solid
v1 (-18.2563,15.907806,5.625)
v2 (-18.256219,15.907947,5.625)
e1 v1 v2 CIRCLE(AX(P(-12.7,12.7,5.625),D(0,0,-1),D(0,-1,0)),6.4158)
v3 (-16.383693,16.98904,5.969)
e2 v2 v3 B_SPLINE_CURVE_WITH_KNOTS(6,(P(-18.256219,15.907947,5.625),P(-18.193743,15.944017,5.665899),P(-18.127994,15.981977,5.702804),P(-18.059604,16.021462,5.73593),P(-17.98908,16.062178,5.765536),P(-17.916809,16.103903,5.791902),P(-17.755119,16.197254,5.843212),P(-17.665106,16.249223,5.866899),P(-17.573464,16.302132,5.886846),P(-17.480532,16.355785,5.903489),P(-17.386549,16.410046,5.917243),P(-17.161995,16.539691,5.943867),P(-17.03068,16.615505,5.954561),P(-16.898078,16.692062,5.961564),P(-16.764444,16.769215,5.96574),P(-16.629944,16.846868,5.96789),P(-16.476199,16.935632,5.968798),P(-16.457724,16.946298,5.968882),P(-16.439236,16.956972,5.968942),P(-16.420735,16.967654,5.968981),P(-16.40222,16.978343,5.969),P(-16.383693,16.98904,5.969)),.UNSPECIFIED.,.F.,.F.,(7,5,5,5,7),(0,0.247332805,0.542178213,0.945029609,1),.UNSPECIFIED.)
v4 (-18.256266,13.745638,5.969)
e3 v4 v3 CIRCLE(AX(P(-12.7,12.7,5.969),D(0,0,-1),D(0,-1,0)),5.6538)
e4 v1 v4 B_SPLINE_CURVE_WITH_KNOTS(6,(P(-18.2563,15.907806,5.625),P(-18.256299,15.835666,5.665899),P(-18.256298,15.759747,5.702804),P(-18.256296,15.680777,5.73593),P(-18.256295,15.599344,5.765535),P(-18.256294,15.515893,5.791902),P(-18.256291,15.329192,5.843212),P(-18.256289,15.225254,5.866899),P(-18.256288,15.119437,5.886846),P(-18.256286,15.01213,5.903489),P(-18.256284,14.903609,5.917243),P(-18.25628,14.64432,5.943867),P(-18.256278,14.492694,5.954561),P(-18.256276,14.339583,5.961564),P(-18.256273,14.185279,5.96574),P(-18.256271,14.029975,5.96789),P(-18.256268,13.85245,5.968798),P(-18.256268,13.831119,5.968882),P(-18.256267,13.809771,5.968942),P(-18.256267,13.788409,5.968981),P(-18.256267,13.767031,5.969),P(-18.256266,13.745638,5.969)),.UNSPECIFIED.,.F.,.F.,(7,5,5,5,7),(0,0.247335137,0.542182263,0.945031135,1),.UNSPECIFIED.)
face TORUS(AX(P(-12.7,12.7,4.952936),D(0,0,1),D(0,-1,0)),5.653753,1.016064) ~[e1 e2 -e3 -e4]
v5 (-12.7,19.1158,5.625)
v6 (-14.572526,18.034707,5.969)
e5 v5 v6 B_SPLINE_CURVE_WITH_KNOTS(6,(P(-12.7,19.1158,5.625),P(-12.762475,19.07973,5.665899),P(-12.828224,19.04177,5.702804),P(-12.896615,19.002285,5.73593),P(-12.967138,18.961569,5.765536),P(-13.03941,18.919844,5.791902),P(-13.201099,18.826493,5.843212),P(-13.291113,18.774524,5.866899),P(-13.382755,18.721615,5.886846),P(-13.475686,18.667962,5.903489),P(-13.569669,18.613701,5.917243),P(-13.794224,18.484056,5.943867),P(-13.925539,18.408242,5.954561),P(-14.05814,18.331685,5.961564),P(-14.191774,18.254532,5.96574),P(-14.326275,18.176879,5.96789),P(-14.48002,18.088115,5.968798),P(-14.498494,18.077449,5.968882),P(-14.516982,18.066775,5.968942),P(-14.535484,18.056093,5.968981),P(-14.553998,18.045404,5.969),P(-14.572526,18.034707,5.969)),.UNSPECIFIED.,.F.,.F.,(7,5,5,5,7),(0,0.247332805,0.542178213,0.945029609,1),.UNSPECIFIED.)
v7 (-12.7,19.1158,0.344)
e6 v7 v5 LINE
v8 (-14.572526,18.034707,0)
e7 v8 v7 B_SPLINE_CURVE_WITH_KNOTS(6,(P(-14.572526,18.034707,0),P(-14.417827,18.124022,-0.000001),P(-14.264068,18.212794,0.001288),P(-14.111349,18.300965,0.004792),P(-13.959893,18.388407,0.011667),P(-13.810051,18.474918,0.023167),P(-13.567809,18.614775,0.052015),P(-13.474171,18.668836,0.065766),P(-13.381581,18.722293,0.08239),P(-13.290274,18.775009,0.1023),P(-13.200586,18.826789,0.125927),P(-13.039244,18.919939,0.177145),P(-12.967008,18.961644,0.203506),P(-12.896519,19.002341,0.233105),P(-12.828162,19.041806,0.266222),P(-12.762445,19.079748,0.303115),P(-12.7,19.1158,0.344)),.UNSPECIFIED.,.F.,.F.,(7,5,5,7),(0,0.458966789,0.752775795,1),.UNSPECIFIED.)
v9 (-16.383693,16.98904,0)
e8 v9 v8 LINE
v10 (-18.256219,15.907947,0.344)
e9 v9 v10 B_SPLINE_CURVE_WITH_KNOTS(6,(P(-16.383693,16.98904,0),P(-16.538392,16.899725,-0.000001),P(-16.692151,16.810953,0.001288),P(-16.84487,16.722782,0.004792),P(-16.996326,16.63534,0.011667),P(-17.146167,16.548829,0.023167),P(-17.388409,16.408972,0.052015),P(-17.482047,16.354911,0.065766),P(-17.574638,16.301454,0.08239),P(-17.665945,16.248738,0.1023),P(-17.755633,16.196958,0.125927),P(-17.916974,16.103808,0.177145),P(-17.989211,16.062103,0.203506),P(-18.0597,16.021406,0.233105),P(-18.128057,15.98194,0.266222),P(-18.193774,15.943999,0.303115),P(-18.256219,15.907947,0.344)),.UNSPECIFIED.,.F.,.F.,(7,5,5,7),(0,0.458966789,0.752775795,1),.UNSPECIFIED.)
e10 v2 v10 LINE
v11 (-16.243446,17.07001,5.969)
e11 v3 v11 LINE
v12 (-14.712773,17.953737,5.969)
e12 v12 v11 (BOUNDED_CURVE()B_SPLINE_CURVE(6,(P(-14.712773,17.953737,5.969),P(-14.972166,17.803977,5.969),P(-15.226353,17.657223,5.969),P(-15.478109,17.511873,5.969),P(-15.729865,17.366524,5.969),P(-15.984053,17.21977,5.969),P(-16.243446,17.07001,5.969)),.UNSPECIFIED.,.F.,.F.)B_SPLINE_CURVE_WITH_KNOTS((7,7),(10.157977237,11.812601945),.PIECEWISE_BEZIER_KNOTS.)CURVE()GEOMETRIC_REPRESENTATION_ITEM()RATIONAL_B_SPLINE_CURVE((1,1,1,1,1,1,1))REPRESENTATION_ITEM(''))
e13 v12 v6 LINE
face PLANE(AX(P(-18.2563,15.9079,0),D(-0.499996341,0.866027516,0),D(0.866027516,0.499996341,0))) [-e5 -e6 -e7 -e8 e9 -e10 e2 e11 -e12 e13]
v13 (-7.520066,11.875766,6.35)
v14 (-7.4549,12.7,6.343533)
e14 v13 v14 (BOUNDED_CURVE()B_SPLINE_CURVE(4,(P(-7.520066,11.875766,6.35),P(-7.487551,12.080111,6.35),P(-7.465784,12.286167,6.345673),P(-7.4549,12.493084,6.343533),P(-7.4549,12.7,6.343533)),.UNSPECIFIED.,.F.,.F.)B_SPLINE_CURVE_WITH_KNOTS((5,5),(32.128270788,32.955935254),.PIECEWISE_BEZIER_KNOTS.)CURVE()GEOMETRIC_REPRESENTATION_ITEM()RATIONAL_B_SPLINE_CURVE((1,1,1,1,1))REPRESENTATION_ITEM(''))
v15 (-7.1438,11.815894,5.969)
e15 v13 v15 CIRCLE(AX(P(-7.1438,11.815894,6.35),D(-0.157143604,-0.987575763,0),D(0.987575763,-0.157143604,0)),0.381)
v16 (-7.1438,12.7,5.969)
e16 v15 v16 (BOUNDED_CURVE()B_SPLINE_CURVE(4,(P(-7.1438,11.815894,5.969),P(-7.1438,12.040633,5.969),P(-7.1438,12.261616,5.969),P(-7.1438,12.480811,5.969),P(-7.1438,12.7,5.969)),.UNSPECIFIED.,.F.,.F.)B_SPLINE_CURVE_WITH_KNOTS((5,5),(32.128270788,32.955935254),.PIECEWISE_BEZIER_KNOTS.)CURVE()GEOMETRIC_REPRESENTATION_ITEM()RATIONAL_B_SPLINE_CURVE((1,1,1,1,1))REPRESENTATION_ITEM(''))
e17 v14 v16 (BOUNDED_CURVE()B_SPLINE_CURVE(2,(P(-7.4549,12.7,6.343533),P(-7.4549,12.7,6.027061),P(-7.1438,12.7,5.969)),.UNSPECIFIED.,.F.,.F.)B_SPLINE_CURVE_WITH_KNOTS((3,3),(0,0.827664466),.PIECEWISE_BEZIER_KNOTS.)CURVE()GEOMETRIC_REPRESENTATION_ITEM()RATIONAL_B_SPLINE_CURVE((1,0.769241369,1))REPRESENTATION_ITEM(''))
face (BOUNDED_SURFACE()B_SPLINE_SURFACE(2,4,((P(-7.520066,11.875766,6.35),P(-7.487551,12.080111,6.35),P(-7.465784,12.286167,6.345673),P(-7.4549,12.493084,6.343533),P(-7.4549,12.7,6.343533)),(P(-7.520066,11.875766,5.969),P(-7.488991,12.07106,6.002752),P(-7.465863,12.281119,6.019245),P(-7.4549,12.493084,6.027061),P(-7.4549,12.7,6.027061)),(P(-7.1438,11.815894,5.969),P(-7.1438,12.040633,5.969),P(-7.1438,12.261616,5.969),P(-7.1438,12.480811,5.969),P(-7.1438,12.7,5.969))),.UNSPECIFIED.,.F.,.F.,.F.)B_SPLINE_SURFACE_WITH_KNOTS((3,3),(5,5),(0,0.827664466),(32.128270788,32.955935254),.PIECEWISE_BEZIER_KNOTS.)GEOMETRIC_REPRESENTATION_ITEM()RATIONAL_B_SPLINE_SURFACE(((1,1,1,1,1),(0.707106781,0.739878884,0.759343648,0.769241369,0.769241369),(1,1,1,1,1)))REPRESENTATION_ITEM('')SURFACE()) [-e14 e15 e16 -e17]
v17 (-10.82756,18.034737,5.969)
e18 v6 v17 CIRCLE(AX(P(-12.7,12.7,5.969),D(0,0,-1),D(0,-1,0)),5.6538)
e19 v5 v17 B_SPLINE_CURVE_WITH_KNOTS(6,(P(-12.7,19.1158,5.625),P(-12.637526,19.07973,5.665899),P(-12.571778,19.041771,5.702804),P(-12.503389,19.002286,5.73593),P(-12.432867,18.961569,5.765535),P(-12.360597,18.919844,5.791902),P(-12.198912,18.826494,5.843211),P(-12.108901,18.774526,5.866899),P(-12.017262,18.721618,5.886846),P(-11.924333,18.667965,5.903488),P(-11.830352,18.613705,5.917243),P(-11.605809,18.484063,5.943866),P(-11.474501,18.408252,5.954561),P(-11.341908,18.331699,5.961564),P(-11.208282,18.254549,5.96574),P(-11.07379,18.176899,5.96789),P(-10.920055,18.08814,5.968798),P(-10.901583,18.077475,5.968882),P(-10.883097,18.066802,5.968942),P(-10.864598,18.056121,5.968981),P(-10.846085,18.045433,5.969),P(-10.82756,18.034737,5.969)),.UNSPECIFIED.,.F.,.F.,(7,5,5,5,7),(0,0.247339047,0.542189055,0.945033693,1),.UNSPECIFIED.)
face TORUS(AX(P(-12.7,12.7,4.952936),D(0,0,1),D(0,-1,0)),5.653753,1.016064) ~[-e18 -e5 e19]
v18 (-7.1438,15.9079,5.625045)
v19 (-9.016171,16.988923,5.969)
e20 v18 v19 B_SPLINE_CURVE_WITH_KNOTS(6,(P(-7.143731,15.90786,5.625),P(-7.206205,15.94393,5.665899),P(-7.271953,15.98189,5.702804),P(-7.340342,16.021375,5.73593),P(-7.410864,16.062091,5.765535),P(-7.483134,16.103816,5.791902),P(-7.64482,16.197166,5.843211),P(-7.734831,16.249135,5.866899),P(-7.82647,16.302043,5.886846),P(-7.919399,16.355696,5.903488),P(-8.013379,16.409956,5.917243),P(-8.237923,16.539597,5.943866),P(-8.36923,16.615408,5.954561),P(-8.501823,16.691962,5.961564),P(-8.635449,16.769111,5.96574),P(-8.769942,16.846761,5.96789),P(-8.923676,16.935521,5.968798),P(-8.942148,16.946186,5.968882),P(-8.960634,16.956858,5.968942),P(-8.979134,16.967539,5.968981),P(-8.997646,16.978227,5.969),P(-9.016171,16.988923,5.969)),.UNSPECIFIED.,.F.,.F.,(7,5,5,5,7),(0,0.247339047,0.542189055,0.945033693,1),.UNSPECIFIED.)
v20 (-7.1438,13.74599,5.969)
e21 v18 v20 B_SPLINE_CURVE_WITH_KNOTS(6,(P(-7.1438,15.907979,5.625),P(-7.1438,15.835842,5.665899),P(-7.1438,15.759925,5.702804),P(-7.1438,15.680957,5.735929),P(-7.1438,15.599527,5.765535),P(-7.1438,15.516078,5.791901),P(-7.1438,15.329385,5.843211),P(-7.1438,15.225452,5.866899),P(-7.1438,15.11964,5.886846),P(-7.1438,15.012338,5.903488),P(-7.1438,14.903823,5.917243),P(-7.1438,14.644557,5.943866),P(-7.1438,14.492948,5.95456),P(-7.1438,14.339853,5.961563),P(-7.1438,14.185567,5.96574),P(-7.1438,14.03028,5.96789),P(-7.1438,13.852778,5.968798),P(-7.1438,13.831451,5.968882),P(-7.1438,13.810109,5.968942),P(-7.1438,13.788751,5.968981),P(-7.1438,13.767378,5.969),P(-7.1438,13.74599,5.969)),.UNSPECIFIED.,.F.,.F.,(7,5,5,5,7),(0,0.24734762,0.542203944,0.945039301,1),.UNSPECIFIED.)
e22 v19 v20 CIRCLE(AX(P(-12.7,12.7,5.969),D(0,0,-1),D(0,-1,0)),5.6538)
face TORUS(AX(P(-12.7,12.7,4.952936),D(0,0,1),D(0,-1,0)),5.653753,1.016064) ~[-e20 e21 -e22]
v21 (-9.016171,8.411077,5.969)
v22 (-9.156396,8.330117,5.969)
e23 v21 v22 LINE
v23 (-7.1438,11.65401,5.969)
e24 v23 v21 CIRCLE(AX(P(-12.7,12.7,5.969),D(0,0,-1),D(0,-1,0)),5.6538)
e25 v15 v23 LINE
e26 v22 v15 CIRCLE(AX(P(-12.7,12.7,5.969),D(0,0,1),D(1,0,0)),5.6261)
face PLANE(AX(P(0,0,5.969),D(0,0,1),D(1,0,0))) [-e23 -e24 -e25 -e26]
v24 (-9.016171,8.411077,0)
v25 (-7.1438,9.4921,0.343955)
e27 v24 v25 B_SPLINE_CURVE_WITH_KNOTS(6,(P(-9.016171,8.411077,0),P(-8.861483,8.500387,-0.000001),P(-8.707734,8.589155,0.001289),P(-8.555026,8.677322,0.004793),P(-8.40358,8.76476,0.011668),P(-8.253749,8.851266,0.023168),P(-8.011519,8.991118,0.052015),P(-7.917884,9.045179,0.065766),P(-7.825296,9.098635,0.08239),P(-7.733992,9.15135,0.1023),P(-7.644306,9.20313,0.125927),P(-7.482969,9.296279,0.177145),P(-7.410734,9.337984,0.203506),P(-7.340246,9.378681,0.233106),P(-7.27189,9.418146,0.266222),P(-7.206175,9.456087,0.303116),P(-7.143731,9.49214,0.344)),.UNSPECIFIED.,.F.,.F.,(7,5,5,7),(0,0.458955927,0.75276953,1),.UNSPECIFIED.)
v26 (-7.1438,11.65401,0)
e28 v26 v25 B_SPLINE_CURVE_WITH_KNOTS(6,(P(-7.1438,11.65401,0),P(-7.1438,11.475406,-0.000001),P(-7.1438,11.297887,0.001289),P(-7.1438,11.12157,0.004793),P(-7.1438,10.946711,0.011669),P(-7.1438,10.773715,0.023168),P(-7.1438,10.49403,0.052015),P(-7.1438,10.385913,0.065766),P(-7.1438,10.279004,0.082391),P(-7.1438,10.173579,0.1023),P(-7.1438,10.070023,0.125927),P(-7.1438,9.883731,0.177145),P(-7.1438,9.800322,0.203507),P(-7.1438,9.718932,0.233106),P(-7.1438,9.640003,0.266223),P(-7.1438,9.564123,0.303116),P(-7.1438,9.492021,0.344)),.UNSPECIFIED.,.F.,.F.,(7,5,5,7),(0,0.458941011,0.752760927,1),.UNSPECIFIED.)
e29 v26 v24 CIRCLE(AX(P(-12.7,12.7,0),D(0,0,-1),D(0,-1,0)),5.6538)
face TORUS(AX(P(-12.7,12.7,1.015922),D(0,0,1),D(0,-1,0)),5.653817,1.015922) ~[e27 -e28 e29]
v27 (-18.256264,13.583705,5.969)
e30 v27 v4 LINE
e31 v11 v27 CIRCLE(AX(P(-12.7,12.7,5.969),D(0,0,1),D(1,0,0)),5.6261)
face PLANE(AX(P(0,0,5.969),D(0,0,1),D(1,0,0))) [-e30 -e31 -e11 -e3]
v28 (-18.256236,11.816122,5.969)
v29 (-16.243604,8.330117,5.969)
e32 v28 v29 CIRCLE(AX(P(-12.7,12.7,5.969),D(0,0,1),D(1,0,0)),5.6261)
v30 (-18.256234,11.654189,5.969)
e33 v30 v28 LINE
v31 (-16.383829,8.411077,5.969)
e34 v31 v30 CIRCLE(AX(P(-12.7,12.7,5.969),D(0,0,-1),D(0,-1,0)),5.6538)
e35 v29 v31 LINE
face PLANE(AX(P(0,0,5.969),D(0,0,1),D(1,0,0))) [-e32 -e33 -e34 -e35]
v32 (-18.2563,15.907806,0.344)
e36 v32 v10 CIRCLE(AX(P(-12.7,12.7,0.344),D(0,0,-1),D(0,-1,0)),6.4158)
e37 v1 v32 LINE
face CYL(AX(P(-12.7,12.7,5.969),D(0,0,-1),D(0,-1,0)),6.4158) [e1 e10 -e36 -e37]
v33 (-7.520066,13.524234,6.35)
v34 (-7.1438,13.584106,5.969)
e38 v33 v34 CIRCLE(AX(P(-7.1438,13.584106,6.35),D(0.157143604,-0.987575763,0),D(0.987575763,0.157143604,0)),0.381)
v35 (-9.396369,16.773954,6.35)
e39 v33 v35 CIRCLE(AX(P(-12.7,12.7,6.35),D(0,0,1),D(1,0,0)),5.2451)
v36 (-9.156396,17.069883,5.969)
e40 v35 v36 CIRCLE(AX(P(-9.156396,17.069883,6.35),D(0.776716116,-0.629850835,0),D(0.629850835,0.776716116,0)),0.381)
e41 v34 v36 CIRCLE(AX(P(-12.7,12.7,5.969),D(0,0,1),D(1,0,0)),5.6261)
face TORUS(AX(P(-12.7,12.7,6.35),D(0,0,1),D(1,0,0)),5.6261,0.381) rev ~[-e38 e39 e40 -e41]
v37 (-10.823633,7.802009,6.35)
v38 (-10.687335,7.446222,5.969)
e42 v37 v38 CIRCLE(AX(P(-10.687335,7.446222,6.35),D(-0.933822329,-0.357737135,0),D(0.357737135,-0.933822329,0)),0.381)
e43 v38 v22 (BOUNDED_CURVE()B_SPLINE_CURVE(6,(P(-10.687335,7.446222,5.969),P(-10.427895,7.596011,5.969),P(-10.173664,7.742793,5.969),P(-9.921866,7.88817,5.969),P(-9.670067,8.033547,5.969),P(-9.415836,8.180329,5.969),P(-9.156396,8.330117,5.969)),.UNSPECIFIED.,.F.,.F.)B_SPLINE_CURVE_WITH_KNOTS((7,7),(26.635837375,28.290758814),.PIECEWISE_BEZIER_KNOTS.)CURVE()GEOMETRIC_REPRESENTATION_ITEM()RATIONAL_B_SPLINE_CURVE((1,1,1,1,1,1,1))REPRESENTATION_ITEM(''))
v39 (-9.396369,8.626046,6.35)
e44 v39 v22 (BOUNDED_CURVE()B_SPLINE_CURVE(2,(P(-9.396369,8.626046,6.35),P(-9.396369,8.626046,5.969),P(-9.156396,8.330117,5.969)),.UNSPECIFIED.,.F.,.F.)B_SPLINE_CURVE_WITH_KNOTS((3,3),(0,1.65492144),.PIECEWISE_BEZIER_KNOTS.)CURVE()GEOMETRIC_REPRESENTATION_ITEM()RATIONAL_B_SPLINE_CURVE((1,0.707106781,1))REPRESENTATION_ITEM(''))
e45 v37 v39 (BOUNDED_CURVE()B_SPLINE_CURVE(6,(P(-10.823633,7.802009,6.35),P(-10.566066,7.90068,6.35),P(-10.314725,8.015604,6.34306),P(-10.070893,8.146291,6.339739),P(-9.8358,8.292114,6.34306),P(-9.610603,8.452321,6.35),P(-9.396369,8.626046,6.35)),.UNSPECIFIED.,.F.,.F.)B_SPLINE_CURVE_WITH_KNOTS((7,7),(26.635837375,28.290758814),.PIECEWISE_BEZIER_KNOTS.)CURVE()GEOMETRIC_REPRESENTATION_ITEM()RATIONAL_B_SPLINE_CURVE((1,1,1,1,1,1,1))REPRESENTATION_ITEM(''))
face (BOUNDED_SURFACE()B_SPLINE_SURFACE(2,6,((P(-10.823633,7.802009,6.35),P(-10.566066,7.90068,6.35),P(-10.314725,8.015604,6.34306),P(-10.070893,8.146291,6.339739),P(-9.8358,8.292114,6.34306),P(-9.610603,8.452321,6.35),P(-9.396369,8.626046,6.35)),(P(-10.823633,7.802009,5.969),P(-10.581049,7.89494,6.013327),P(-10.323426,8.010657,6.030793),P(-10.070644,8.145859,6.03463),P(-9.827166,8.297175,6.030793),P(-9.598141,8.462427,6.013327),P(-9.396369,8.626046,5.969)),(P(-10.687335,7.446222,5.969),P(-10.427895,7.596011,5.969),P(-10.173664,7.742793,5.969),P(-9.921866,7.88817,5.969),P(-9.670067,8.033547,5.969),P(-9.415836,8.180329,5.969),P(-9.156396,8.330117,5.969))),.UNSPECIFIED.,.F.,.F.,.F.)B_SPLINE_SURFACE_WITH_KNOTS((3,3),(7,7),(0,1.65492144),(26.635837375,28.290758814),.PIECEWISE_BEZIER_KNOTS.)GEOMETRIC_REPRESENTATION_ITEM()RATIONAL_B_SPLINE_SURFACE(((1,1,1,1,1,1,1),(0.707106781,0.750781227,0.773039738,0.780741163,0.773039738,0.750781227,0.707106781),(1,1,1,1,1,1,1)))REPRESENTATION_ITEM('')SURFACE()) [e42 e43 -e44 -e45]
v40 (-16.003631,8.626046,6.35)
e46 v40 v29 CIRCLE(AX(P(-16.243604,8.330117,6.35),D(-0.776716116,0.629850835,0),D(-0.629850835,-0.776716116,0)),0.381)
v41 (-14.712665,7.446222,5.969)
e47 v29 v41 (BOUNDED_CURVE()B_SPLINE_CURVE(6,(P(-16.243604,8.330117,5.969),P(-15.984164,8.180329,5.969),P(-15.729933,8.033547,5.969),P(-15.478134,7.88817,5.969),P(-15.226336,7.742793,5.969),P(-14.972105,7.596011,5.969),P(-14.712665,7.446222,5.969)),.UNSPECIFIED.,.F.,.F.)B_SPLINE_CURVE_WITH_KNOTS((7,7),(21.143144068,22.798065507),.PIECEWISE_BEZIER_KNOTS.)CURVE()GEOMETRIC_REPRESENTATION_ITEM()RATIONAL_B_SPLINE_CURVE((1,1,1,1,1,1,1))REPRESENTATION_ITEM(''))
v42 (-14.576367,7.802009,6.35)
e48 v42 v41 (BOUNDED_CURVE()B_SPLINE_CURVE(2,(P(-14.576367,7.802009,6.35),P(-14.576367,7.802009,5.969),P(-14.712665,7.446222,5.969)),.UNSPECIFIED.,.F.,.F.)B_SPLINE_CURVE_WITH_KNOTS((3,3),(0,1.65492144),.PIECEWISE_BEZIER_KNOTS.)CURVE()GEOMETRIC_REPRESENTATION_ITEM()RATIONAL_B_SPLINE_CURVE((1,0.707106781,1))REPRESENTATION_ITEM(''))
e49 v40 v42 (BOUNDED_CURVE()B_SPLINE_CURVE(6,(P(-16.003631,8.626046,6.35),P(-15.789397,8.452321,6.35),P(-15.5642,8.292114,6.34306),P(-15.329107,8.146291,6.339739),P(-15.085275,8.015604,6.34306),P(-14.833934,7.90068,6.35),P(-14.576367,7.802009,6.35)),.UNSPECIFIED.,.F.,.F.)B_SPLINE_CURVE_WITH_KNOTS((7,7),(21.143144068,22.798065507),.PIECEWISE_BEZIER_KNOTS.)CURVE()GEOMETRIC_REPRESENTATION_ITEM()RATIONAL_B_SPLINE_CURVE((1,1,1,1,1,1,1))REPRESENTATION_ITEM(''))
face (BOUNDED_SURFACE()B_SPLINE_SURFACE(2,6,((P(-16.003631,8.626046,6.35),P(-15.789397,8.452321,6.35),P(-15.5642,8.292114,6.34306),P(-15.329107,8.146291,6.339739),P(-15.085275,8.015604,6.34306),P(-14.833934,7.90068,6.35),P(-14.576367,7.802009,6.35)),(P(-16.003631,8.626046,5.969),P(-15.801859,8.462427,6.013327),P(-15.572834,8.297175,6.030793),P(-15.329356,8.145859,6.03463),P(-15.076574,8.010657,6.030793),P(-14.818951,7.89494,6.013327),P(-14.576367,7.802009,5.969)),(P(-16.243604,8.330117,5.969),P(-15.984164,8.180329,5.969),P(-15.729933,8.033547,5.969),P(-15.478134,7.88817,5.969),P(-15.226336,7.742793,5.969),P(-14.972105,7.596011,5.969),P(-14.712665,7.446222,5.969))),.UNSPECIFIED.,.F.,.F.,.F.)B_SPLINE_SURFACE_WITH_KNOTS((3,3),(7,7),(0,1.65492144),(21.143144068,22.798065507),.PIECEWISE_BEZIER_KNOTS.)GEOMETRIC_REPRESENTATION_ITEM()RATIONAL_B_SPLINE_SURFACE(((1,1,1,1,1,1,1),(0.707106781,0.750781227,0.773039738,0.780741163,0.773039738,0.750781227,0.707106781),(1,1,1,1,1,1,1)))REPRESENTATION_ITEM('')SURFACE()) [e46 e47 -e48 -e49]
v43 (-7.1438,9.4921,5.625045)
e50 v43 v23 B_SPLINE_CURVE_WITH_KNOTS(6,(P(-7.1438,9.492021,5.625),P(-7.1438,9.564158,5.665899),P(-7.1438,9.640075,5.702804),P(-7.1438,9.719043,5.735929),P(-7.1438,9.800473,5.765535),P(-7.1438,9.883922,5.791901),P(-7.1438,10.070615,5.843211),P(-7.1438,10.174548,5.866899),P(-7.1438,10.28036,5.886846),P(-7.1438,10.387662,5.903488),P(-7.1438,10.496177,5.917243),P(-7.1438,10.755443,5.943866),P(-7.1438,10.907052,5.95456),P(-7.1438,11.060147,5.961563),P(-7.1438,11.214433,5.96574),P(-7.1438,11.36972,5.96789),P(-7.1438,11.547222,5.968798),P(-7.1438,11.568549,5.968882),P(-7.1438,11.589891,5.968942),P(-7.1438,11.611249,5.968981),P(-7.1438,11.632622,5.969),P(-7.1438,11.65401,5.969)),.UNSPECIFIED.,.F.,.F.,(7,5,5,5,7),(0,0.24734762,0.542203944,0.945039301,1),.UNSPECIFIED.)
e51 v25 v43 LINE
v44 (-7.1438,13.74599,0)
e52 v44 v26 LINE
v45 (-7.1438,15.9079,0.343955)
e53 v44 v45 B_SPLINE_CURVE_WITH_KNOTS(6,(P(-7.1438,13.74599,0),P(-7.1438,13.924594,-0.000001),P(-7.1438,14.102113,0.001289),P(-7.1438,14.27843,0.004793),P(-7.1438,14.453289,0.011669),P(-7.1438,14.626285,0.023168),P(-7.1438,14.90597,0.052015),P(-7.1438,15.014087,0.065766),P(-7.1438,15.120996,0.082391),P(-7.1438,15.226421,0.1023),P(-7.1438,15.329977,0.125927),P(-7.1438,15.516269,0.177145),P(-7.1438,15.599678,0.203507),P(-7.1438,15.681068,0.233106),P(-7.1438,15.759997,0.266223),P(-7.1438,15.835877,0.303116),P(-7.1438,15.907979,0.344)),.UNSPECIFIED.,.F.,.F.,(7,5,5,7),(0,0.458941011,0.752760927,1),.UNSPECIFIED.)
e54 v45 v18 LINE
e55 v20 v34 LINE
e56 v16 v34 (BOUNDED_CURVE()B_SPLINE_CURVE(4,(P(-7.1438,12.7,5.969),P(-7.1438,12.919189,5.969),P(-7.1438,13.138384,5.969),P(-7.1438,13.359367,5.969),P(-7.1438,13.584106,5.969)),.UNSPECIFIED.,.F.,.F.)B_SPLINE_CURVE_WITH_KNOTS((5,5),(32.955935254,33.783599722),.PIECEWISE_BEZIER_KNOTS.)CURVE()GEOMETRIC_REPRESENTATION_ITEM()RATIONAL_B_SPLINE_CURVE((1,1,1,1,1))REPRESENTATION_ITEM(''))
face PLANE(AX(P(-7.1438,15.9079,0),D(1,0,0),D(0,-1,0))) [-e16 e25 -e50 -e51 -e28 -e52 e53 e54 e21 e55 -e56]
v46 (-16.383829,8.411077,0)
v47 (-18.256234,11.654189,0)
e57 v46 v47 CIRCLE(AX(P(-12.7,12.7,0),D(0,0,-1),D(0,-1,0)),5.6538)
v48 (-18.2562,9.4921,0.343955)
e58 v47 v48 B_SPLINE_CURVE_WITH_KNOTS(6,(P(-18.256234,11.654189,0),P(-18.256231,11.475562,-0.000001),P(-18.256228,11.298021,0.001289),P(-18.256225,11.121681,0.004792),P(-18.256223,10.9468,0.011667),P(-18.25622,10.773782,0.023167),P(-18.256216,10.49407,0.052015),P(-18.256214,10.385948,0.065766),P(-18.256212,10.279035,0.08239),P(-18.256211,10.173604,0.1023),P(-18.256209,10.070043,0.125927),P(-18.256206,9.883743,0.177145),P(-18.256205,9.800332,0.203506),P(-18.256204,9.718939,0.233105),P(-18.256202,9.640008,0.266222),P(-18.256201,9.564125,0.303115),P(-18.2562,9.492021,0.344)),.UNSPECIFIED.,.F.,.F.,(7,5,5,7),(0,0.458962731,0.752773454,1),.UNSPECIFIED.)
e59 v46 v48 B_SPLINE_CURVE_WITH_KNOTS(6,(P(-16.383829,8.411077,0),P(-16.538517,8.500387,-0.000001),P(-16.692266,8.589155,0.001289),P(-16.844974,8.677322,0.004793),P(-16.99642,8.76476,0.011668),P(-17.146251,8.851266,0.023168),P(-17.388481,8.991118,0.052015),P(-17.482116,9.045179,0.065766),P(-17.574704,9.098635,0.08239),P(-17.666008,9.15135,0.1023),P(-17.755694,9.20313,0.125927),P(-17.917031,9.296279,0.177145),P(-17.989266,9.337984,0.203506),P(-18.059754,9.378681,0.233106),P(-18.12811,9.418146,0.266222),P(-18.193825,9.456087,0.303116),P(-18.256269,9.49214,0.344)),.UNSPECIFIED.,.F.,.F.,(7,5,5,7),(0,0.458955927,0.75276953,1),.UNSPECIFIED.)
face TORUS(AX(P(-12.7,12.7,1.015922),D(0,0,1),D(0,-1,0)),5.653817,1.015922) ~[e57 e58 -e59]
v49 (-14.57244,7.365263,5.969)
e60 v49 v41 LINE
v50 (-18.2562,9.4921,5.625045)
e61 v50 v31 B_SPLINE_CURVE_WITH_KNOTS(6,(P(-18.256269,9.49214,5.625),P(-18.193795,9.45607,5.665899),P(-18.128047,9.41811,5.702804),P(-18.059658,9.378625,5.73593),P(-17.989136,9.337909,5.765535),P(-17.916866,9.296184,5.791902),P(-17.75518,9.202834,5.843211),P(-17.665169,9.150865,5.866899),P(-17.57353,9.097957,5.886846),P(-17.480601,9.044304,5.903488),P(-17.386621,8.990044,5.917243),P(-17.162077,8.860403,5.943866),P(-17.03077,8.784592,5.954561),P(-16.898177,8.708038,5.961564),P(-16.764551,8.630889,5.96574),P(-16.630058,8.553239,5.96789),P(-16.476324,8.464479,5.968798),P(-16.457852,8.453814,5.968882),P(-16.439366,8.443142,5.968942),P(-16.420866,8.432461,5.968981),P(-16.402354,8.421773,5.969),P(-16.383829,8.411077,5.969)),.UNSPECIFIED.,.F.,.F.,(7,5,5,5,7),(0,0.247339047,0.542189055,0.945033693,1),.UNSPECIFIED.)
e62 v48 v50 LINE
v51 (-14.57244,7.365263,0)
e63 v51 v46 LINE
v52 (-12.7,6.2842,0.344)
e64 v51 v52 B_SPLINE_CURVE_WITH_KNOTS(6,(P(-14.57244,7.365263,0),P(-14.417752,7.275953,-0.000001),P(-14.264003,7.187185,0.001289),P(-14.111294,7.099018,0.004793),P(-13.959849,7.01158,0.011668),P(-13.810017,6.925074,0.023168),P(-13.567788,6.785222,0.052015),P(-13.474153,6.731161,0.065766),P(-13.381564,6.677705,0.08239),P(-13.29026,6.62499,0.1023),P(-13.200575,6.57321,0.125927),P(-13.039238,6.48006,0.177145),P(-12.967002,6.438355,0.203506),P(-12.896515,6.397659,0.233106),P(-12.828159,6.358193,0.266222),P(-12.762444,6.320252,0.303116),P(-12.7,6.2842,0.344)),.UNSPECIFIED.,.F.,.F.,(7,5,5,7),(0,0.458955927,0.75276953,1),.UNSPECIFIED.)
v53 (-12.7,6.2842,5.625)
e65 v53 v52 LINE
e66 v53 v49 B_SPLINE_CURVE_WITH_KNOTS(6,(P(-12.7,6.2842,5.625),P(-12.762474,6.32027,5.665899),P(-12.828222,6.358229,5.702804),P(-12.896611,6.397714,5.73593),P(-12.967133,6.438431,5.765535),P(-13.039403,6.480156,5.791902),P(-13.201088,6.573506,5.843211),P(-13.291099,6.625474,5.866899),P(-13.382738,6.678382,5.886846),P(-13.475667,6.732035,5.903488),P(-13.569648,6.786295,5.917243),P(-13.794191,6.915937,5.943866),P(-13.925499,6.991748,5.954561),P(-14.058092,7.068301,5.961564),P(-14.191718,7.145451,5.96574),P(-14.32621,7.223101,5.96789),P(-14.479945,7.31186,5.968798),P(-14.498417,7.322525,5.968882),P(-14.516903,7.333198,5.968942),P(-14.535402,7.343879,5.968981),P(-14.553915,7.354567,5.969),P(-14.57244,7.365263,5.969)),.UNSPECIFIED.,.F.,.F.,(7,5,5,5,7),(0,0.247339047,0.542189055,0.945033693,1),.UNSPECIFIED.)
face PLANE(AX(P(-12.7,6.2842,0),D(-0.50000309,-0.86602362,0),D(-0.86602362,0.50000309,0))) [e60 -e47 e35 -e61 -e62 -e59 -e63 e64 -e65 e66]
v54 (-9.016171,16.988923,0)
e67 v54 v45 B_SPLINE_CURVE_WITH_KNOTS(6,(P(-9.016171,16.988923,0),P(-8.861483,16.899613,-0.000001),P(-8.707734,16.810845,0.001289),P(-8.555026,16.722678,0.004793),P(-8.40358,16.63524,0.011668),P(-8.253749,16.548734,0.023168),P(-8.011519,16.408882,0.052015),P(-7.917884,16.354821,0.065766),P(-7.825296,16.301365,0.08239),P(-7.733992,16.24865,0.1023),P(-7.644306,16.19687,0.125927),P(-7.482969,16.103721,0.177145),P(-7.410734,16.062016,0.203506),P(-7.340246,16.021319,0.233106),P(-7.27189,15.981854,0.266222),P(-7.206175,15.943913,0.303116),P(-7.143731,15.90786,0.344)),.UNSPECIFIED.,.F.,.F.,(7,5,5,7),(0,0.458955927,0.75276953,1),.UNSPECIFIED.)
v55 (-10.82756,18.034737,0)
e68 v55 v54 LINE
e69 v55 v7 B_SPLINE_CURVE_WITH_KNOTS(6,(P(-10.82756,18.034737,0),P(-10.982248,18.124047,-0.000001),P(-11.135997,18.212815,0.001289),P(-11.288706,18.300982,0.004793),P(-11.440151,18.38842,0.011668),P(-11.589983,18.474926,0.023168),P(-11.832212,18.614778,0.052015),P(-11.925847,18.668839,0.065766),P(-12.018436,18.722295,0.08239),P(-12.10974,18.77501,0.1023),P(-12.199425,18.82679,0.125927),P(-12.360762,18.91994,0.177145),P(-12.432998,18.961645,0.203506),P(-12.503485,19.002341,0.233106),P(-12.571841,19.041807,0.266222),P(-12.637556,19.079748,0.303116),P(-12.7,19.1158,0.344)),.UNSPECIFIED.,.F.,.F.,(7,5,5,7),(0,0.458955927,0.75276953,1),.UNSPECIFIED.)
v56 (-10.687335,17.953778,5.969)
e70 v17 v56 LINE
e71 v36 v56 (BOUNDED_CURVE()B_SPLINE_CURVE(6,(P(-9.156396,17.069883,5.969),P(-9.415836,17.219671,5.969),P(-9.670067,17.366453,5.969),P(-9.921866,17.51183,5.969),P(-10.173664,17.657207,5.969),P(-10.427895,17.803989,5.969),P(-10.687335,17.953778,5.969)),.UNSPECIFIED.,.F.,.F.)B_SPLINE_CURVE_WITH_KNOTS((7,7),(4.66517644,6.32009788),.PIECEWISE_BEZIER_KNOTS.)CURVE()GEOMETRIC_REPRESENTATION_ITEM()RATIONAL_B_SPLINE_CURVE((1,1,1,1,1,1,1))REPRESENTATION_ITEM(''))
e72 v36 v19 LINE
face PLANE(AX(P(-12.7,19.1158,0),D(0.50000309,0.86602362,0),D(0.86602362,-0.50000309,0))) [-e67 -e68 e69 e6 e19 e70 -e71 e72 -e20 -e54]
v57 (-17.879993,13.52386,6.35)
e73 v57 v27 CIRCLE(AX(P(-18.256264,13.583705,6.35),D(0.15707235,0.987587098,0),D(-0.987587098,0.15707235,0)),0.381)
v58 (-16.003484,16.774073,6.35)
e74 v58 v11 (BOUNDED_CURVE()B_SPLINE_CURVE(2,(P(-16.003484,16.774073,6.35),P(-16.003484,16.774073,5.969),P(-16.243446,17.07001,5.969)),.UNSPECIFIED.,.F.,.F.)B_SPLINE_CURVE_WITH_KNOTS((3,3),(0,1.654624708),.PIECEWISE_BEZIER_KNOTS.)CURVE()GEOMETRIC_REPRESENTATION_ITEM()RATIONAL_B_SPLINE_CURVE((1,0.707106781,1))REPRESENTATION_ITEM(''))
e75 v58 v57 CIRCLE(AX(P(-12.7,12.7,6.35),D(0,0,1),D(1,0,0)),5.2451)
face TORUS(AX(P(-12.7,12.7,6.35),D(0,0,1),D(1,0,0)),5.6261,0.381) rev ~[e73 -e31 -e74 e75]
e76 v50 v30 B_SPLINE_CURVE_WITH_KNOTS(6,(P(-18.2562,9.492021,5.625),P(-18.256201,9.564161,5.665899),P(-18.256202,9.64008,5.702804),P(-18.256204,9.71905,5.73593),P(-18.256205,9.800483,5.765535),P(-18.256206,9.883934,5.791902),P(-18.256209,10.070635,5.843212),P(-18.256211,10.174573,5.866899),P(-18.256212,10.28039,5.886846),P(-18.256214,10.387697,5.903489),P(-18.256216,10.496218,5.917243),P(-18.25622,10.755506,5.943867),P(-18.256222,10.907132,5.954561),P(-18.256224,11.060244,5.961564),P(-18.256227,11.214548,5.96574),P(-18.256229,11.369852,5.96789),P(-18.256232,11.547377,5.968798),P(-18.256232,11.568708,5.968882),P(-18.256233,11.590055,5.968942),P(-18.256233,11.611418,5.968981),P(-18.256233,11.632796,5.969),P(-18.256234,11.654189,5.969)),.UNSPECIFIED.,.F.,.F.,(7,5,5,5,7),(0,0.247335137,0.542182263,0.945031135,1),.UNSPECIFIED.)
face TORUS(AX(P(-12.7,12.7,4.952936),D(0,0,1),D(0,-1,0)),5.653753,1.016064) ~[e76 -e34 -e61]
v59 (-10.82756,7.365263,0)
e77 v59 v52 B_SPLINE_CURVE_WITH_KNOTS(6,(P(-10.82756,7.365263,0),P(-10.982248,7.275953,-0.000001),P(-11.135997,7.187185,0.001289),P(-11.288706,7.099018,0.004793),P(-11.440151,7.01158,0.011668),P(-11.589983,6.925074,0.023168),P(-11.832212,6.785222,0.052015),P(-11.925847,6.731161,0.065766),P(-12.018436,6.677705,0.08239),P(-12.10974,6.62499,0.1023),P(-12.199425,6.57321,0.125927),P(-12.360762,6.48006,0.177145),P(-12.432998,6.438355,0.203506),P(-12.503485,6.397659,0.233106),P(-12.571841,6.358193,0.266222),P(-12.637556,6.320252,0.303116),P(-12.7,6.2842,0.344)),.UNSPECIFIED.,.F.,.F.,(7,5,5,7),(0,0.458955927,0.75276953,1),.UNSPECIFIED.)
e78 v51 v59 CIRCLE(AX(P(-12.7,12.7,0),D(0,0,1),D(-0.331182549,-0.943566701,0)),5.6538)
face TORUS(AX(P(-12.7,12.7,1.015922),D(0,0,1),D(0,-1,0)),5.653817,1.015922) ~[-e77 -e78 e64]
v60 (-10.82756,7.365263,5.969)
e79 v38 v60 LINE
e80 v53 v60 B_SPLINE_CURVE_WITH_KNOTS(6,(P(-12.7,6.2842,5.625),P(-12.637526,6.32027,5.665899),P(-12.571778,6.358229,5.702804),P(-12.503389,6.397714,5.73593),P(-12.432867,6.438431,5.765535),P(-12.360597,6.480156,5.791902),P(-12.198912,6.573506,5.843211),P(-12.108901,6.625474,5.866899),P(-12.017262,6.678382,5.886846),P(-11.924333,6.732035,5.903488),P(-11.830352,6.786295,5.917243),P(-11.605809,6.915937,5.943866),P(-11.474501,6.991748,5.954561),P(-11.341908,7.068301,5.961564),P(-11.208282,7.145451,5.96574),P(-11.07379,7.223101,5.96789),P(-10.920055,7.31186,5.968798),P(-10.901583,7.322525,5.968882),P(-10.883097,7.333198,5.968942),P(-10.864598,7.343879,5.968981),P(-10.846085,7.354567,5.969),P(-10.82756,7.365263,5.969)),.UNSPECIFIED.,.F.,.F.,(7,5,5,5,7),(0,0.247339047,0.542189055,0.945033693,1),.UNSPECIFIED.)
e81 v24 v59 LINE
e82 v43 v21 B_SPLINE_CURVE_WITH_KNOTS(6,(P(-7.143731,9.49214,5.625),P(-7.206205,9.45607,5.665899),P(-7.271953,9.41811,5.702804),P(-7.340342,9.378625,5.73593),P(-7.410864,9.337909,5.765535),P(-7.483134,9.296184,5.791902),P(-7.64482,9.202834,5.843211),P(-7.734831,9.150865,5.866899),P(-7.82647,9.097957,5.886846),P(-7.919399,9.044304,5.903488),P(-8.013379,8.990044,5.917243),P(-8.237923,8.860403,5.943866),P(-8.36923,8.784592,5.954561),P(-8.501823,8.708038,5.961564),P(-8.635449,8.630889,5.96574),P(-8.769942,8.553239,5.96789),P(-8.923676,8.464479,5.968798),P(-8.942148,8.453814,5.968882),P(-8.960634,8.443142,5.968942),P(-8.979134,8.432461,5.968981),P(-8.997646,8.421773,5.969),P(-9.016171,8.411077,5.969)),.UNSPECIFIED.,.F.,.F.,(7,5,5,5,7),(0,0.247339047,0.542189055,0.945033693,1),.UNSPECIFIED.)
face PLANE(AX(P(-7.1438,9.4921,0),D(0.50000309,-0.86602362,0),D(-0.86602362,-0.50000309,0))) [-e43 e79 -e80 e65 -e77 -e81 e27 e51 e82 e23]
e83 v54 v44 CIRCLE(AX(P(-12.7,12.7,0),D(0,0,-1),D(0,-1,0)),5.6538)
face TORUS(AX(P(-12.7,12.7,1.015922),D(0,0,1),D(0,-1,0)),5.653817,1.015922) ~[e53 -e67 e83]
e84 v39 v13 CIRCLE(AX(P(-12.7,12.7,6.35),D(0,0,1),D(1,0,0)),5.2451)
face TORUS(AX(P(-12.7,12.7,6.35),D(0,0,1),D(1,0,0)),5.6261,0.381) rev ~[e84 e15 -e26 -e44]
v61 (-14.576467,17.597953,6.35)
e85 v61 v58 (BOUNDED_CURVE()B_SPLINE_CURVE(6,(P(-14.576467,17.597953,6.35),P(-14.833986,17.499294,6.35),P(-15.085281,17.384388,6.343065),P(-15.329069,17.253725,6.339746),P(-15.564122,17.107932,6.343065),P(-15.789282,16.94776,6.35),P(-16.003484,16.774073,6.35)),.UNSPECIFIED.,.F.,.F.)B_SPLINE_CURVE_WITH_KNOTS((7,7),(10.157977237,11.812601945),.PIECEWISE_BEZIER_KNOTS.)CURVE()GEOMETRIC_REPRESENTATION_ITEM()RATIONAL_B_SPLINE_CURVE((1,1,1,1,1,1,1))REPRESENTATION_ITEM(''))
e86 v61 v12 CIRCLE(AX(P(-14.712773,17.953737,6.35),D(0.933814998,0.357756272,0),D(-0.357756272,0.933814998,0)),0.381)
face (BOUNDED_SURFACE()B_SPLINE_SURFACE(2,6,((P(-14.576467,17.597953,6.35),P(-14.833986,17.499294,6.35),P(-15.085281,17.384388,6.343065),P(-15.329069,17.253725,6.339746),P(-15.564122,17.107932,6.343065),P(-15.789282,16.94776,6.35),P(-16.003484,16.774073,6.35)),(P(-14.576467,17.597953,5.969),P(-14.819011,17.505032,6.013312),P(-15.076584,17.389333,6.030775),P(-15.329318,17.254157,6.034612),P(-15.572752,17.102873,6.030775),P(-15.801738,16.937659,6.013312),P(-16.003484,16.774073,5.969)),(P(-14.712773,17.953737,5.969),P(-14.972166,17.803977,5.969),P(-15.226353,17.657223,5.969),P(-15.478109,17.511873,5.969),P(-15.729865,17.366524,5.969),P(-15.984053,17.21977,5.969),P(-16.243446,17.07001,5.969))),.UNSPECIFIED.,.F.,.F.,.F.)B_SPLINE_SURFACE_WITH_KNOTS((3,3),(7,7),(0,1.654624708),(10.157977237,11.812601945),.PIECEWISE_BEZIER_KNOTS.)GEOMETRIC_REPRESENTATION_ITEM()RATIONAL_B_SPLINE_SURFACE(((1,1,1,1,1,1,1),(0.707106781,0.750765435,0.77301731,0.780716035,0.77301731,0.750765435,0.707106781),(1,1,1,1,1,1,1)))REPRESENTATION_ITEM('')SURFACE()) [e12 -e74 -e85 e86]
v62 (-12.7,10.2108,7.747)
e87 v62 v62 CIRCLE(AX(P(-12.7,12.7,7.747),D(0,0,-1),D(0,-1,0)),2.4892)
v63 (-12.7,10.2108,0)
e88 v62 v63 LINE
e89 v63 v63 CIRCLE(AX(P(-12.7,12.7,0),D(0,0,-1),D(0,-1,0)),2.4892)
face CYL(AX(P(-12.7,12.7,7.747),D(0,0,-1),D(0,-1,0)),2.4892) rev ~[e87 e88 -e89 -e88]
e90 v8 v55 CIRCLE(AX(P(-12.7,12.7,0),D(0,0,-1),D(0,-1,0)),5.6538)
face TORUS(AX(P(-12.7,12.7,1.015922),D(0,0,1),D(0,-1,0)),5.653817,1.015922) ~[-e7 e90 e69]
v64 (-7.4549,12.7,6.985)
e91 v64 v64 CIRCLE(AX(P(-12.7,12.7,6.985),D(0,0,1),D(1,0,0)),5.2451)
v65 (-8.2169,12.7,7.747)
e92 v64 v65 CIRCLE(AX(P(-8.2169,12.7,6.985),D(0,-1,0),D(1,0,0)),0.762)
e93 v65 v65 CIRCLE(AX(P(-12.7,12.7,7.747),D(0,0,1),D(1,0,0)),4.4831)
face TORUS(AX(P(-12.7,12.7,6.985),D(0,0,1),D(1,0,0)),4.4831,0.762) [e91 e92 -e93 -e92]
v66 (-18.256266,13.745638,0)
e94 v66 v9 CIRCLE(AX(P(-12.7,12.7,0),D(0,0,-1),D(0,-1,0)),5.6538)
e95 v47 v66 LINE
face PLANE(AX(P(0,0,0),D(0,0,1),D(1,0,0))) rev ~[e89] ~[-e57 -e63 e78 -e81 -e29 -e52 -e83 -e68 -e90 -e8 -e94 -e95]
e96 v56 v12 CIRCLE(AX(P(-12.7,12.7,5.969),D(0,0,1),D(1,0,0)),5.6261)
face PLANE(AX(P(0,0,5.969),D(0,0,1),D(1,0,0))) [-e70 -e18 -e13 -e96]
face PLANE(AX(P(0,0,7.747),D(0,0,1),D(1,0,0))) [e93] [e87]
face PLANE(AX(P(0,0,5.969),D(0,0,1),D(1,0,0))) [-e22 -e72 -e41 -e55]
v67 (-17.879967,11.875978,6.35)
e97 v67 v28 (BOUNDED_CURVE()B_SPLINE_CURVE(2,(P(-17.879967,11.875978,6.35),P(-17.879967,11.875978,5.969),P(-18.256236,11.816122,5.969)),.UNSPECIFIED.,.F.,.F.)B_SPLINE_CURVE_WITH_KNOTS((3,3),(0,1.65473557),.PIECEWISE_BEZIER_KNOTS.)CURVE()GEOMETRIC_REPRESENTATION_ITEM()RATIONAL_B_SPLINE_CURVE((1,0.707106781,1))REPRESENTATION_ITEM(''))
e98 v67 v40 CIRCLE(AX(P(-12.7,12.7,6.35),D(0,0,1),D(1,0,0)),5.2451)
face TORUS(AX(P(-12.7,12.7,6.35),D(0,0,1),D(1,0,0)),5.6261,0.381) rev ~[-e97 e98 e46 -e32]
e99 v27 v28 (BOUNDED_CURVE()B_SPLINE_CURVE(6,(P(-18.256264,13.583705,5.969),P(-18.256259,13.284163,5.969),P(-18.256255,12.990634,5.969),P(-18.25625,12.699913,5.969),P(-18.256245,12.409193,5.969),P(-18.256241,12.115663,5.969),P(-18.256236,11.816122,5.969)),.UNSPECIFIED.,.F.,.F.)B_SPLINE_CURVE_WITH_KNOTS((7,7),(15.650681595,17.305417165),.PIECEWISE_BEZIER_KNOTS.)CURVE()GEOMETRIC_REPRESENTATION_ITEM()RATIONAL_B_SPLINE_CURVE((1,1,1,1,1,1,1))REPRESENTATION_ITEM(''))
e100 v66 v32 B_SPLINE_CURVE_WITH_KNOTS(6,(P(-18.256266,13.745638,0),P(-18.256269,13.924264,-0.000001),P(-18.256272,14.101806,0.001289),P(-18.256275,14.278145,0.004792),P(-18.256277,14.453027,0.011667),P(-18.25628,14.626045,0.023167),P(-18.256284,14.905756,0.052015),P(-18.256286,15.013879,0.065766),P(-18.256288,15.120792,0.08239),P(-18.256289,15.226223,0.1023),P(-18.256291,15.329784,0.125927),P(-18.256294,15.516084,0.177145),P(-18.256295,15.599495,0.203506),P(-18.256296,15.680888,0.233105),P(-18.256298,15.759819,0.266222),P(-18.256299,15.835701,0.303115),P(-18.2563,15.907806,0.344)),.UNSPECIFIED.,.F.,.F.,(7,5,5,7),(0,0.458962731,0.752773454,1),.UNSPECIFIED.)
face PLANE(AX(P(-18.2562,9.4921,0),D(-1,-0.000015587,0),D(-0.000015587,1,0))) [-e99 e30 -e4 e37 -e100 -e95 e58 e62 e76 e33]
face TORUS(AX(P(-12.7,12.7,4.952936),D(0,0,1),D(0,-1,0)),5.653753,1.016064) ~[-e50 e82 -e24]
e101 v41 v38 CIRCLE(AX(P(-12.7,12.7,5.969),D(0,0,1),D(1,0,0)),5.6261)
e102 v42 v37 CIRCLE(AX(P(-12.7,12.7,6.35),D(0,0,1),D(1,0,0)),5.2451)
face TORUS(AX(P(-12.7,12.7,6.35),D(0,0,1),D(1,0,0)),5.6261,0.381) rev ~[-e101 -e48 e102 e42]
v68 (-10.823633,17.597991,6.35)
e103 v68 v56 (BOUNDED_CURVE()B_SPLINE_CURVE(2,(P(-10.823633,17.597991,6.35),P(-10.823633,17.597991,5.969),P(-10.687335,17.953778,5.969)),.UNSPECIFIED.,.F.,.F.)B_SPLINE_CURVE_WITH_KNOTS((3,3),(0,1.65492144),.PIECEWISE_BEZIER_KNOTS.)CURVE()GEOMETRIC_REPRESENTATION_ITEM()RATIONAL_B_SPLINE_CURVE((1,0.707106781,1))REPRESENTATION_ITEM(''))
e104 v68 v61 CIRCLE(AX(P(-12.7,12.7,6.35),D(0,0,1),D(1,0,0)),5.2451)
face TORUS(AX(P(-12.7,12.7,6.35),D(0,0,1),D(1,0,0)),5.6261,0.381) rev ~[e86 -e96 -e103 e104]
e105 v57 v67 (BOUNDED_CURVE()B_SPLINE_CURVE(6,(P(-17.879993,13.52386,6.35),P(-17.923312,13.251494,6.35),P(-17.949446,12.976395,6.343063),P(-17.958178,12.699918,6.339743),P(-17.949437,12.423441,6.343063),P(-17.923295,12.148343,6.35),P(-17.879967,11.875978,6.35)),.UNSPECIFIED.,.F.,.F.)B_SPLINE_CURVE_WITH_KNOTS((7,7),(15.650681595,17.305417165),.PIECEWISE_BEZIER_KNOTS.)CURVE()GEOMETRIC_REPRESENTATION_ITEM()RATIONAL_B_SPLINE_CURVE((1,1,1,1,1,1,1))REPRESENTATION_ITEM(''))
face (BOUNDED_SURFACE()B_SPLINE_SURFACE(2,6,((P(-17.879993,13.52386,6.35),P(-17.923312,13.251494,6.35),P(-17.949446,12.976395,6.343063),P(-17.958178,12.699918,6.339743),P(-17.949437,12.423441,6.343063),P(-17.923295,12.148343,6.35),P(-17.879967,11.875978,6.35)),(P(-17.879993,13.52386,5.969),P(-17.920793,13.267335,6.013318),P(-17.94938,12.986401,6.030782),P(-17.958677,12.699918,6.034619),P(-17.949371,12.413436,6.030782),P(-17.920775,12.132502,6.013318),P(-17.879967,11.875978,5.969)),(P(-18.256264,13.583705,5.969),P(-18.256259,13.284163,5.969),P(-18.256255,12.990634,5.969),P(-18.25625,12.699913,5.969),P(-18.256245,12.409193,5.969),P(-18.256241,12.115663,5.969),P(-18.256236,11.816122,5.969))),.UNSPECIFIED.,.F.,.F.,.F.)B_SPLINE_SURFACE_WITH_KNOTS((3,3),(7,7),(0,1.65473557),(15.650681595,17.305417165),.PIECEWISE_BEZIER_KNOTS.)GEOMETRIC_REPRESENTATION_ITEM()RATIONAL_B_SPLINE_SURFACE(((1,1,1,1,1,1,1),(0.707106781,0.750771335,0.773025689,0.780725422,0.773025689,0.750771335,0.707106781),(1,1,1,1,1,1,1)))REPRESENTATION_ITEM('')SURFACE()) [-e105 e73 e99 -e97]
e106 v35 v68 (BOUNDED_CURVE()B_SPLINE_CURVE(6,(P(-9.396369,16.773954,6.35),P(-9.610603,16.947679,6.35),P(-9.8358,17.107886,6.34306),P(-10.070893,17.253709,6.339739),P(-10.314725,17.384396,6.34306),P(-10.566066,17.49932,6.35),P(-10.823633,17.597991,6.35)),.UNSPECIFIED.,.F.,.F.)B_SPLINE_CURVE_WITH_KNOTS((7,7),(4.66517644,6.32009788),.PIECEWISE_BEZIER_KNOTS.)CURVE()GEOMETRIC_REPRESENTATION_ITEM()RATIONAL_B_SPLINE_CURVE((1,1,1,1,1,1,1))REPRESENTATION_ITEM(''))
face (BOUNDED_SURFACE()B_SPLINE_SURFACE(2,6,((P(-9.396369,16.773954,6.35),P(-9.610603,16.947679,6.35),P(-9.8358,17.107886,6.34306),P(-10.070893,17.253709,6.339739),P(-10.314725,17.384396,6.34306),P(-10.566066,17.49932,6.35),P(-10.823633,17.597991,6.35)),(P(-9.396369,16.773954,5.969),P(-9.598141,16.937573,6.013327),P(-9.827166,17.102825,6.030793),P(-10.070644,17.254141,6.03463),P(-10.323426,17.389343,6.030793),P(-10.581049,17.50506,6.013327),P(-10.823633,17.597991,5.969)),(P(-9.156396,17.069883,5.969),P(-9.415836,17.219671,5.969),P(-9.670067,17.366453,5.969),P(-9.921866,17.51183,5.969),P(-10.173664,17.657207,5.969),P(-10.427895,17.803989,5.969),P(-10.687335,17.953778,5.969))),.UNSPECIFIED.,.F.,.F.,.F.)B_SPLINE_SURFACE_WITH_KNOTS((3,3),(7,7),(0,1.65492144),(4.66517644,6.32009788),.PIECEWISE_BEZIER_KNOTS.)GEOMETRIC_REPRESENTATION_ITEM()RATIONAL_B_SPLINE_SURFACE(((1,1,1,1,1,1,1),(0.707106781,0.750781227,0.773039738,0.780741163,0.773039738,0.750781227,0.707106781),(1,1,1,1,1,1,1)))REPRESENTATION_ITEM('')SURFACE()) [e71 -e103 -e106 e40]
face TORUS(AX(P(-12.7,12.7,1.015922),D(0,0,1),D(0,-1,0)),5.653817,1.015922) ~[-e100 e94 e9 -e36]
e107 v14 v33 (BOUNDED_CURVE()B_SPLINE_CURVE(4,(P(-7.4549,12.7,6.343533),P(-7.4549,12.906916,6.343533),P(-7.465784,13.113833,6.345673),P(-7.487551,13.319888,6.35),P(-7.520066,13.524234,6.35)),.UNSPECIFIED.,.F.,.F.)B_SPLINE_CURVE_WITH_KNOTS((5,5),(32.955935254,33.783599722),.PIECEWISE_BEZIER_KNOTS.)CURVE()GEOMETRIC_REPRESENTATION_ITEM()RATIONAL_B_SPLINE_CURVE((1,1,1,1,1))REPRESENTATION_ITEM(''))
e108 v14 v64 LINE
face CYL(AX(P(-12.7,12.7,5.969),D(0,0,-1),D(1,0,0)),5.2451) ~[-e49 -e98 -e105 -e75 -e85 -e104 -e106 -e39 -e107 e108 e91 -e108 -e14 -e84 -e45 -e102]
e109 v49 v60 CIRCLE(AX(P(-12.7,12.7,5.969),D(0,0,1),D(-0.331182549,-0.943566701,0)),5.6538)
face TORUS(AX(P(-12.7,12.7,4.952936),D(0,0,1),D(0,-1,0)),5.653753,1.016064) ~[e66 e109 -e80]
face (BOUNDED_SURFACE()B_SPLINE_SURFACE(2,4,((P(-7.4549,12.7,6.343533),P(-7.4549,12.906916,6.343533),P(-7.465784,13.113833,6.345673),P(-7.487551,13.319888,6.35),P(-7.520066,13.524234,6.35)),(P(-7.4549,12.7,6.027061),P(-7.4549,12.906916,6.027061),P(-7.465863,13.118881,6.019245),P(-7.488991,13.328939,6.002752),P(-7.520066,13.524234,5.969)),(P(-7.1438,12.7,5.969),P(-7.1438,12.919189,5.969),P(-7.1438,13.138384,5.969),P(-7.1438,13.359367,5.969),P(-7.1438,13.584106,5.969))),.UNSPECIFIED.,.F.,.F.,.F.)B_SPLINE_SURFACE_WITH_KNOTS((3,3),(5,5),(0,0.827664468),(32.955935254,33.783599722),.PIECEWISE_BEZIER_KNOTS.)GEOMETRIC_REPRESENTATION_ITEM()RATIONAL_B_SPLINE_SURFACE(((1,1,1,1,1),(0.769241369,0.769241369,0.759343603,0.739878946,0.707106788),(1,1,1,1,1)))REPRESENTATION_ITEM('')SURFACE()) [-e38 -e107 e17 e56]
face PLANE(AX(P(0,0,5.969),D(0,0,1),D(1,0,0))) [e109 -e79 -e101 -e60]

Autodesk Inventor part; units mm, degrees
ref_plane "YZ Plane" through (0, 0, 0) normal (1, 0, 0) x (0, 1, 0)
ref_plane "XZ Plane" through (0, 0, 0) normal (0, 1, 0) x (-1, 0, 0)
sketch "Sketch1" plane through (0, 0, 0) normal (0, 0, 1) x (1, 0, 0)
  line L0 (-12.7, 6.2842) -> (-18.2562, 9.4921)
  line L1 (-18.2562, 9.4921) -> (-18.2563, 15.9079)
  line L2 (-18.2563, 15.9079) -> (-12.7, 19.1158)
  line L3 (-12.7, 19.1158) -> (-7.1438, 15.9079)
  line L4 (-7.1438, 15.9079) -> (-7.1438, 9.4921)
  line L5 (-7.1438, 9.4921) -> (-12.7, 6.2842)
  point P0 (-12.7, 12.7)
  dimension "d0" = 11.1125
extrude "Extrusion1" add sketch "Sketch1" along normal blind 5.969
ref_plane "Work Plane1" through (-12.7, 19.1158, 5.969) normal (-1, 0, 0) x (0, 0, -1)
sketch "Sketch3" plane through (-12.7, 19.1158, 5.969) normal (-1, 0, 0) x (0, 0, -1)
  line L0 (0, 12.8316) -> (5.969, 12.8316) projected
  line L1 (5.969, 12.8316) -> (5.969, 0) projected
  line L2 (5.969, 0) -> (0, 0) projected
  line L3 (0, 0) -> (0, 12.8316) projected
  line L4 (0, 12.0696) -> (0, 6.4158)
  line L5 (0, 6.4158) -> (5.969, 6.4158)
  line L6 (5.969, 6.4158) -> (5.969, 12.0696)
  arc A0 (5.969, 12.0696) -> (5.625, 12.8316) centre (4.953, 12.0696) ccw
  arc A1 (0.344, 12.8316) -> (0, 12.0696) centre (1.016, 12.0696) ccw
  line L7 (0.344, 12.8316) -> (5.625, 12.8316)
  line L8 (5.969, 12.8316) -> (5.969, 9.6237) projected
  line L9 (0, 12.8316) -> (0, 9.6237) projected
  line L10 (0, 9.6237) -> (0, 3.2079) projected
  dimension "d4" = 1.016
  dimension "d5" = 0.762
  dimension "d6" = 0.762
revolve "Revolution1" cut sketch "Sketch3" angle 360 about axis through (-12.7, 12.7, 5.969) along (0, 0, -1) keep common part contours L0 A0 L1 L5 L3 A1
sketch "Sketch4" plane through (0, 0, 5.969) normal (0, 0, 1) x (1, 0, 0)
  arc A0 (-16.3838, 16.989) -> (-18.2562, 13.7458) centre (-12.7, 12.7) ccw projected
  circle A1 centre (-12.7, 12.7) radius 5.2451
  dimension "d8" = 10.4902
extrude "Extrusion2" add sketch "Sketch4" along normal blind 1.778
fillet "Fillet1" radius 0.762 1 edges at (-17.9451, 12.7, 7.747)
fillet "Fillet2" radius 0.381 1 edges at (-17.9451, 12.7, 5.969)
hole "Hole1" at (-12.7, 12.7, 7.747) direction (0, 0, -1) diameter 4.9784 end through all thread size "1/4-20 UNC" class "2B" standard "ANSI Unified Screw Threads"
properties part number "HW-00002"
